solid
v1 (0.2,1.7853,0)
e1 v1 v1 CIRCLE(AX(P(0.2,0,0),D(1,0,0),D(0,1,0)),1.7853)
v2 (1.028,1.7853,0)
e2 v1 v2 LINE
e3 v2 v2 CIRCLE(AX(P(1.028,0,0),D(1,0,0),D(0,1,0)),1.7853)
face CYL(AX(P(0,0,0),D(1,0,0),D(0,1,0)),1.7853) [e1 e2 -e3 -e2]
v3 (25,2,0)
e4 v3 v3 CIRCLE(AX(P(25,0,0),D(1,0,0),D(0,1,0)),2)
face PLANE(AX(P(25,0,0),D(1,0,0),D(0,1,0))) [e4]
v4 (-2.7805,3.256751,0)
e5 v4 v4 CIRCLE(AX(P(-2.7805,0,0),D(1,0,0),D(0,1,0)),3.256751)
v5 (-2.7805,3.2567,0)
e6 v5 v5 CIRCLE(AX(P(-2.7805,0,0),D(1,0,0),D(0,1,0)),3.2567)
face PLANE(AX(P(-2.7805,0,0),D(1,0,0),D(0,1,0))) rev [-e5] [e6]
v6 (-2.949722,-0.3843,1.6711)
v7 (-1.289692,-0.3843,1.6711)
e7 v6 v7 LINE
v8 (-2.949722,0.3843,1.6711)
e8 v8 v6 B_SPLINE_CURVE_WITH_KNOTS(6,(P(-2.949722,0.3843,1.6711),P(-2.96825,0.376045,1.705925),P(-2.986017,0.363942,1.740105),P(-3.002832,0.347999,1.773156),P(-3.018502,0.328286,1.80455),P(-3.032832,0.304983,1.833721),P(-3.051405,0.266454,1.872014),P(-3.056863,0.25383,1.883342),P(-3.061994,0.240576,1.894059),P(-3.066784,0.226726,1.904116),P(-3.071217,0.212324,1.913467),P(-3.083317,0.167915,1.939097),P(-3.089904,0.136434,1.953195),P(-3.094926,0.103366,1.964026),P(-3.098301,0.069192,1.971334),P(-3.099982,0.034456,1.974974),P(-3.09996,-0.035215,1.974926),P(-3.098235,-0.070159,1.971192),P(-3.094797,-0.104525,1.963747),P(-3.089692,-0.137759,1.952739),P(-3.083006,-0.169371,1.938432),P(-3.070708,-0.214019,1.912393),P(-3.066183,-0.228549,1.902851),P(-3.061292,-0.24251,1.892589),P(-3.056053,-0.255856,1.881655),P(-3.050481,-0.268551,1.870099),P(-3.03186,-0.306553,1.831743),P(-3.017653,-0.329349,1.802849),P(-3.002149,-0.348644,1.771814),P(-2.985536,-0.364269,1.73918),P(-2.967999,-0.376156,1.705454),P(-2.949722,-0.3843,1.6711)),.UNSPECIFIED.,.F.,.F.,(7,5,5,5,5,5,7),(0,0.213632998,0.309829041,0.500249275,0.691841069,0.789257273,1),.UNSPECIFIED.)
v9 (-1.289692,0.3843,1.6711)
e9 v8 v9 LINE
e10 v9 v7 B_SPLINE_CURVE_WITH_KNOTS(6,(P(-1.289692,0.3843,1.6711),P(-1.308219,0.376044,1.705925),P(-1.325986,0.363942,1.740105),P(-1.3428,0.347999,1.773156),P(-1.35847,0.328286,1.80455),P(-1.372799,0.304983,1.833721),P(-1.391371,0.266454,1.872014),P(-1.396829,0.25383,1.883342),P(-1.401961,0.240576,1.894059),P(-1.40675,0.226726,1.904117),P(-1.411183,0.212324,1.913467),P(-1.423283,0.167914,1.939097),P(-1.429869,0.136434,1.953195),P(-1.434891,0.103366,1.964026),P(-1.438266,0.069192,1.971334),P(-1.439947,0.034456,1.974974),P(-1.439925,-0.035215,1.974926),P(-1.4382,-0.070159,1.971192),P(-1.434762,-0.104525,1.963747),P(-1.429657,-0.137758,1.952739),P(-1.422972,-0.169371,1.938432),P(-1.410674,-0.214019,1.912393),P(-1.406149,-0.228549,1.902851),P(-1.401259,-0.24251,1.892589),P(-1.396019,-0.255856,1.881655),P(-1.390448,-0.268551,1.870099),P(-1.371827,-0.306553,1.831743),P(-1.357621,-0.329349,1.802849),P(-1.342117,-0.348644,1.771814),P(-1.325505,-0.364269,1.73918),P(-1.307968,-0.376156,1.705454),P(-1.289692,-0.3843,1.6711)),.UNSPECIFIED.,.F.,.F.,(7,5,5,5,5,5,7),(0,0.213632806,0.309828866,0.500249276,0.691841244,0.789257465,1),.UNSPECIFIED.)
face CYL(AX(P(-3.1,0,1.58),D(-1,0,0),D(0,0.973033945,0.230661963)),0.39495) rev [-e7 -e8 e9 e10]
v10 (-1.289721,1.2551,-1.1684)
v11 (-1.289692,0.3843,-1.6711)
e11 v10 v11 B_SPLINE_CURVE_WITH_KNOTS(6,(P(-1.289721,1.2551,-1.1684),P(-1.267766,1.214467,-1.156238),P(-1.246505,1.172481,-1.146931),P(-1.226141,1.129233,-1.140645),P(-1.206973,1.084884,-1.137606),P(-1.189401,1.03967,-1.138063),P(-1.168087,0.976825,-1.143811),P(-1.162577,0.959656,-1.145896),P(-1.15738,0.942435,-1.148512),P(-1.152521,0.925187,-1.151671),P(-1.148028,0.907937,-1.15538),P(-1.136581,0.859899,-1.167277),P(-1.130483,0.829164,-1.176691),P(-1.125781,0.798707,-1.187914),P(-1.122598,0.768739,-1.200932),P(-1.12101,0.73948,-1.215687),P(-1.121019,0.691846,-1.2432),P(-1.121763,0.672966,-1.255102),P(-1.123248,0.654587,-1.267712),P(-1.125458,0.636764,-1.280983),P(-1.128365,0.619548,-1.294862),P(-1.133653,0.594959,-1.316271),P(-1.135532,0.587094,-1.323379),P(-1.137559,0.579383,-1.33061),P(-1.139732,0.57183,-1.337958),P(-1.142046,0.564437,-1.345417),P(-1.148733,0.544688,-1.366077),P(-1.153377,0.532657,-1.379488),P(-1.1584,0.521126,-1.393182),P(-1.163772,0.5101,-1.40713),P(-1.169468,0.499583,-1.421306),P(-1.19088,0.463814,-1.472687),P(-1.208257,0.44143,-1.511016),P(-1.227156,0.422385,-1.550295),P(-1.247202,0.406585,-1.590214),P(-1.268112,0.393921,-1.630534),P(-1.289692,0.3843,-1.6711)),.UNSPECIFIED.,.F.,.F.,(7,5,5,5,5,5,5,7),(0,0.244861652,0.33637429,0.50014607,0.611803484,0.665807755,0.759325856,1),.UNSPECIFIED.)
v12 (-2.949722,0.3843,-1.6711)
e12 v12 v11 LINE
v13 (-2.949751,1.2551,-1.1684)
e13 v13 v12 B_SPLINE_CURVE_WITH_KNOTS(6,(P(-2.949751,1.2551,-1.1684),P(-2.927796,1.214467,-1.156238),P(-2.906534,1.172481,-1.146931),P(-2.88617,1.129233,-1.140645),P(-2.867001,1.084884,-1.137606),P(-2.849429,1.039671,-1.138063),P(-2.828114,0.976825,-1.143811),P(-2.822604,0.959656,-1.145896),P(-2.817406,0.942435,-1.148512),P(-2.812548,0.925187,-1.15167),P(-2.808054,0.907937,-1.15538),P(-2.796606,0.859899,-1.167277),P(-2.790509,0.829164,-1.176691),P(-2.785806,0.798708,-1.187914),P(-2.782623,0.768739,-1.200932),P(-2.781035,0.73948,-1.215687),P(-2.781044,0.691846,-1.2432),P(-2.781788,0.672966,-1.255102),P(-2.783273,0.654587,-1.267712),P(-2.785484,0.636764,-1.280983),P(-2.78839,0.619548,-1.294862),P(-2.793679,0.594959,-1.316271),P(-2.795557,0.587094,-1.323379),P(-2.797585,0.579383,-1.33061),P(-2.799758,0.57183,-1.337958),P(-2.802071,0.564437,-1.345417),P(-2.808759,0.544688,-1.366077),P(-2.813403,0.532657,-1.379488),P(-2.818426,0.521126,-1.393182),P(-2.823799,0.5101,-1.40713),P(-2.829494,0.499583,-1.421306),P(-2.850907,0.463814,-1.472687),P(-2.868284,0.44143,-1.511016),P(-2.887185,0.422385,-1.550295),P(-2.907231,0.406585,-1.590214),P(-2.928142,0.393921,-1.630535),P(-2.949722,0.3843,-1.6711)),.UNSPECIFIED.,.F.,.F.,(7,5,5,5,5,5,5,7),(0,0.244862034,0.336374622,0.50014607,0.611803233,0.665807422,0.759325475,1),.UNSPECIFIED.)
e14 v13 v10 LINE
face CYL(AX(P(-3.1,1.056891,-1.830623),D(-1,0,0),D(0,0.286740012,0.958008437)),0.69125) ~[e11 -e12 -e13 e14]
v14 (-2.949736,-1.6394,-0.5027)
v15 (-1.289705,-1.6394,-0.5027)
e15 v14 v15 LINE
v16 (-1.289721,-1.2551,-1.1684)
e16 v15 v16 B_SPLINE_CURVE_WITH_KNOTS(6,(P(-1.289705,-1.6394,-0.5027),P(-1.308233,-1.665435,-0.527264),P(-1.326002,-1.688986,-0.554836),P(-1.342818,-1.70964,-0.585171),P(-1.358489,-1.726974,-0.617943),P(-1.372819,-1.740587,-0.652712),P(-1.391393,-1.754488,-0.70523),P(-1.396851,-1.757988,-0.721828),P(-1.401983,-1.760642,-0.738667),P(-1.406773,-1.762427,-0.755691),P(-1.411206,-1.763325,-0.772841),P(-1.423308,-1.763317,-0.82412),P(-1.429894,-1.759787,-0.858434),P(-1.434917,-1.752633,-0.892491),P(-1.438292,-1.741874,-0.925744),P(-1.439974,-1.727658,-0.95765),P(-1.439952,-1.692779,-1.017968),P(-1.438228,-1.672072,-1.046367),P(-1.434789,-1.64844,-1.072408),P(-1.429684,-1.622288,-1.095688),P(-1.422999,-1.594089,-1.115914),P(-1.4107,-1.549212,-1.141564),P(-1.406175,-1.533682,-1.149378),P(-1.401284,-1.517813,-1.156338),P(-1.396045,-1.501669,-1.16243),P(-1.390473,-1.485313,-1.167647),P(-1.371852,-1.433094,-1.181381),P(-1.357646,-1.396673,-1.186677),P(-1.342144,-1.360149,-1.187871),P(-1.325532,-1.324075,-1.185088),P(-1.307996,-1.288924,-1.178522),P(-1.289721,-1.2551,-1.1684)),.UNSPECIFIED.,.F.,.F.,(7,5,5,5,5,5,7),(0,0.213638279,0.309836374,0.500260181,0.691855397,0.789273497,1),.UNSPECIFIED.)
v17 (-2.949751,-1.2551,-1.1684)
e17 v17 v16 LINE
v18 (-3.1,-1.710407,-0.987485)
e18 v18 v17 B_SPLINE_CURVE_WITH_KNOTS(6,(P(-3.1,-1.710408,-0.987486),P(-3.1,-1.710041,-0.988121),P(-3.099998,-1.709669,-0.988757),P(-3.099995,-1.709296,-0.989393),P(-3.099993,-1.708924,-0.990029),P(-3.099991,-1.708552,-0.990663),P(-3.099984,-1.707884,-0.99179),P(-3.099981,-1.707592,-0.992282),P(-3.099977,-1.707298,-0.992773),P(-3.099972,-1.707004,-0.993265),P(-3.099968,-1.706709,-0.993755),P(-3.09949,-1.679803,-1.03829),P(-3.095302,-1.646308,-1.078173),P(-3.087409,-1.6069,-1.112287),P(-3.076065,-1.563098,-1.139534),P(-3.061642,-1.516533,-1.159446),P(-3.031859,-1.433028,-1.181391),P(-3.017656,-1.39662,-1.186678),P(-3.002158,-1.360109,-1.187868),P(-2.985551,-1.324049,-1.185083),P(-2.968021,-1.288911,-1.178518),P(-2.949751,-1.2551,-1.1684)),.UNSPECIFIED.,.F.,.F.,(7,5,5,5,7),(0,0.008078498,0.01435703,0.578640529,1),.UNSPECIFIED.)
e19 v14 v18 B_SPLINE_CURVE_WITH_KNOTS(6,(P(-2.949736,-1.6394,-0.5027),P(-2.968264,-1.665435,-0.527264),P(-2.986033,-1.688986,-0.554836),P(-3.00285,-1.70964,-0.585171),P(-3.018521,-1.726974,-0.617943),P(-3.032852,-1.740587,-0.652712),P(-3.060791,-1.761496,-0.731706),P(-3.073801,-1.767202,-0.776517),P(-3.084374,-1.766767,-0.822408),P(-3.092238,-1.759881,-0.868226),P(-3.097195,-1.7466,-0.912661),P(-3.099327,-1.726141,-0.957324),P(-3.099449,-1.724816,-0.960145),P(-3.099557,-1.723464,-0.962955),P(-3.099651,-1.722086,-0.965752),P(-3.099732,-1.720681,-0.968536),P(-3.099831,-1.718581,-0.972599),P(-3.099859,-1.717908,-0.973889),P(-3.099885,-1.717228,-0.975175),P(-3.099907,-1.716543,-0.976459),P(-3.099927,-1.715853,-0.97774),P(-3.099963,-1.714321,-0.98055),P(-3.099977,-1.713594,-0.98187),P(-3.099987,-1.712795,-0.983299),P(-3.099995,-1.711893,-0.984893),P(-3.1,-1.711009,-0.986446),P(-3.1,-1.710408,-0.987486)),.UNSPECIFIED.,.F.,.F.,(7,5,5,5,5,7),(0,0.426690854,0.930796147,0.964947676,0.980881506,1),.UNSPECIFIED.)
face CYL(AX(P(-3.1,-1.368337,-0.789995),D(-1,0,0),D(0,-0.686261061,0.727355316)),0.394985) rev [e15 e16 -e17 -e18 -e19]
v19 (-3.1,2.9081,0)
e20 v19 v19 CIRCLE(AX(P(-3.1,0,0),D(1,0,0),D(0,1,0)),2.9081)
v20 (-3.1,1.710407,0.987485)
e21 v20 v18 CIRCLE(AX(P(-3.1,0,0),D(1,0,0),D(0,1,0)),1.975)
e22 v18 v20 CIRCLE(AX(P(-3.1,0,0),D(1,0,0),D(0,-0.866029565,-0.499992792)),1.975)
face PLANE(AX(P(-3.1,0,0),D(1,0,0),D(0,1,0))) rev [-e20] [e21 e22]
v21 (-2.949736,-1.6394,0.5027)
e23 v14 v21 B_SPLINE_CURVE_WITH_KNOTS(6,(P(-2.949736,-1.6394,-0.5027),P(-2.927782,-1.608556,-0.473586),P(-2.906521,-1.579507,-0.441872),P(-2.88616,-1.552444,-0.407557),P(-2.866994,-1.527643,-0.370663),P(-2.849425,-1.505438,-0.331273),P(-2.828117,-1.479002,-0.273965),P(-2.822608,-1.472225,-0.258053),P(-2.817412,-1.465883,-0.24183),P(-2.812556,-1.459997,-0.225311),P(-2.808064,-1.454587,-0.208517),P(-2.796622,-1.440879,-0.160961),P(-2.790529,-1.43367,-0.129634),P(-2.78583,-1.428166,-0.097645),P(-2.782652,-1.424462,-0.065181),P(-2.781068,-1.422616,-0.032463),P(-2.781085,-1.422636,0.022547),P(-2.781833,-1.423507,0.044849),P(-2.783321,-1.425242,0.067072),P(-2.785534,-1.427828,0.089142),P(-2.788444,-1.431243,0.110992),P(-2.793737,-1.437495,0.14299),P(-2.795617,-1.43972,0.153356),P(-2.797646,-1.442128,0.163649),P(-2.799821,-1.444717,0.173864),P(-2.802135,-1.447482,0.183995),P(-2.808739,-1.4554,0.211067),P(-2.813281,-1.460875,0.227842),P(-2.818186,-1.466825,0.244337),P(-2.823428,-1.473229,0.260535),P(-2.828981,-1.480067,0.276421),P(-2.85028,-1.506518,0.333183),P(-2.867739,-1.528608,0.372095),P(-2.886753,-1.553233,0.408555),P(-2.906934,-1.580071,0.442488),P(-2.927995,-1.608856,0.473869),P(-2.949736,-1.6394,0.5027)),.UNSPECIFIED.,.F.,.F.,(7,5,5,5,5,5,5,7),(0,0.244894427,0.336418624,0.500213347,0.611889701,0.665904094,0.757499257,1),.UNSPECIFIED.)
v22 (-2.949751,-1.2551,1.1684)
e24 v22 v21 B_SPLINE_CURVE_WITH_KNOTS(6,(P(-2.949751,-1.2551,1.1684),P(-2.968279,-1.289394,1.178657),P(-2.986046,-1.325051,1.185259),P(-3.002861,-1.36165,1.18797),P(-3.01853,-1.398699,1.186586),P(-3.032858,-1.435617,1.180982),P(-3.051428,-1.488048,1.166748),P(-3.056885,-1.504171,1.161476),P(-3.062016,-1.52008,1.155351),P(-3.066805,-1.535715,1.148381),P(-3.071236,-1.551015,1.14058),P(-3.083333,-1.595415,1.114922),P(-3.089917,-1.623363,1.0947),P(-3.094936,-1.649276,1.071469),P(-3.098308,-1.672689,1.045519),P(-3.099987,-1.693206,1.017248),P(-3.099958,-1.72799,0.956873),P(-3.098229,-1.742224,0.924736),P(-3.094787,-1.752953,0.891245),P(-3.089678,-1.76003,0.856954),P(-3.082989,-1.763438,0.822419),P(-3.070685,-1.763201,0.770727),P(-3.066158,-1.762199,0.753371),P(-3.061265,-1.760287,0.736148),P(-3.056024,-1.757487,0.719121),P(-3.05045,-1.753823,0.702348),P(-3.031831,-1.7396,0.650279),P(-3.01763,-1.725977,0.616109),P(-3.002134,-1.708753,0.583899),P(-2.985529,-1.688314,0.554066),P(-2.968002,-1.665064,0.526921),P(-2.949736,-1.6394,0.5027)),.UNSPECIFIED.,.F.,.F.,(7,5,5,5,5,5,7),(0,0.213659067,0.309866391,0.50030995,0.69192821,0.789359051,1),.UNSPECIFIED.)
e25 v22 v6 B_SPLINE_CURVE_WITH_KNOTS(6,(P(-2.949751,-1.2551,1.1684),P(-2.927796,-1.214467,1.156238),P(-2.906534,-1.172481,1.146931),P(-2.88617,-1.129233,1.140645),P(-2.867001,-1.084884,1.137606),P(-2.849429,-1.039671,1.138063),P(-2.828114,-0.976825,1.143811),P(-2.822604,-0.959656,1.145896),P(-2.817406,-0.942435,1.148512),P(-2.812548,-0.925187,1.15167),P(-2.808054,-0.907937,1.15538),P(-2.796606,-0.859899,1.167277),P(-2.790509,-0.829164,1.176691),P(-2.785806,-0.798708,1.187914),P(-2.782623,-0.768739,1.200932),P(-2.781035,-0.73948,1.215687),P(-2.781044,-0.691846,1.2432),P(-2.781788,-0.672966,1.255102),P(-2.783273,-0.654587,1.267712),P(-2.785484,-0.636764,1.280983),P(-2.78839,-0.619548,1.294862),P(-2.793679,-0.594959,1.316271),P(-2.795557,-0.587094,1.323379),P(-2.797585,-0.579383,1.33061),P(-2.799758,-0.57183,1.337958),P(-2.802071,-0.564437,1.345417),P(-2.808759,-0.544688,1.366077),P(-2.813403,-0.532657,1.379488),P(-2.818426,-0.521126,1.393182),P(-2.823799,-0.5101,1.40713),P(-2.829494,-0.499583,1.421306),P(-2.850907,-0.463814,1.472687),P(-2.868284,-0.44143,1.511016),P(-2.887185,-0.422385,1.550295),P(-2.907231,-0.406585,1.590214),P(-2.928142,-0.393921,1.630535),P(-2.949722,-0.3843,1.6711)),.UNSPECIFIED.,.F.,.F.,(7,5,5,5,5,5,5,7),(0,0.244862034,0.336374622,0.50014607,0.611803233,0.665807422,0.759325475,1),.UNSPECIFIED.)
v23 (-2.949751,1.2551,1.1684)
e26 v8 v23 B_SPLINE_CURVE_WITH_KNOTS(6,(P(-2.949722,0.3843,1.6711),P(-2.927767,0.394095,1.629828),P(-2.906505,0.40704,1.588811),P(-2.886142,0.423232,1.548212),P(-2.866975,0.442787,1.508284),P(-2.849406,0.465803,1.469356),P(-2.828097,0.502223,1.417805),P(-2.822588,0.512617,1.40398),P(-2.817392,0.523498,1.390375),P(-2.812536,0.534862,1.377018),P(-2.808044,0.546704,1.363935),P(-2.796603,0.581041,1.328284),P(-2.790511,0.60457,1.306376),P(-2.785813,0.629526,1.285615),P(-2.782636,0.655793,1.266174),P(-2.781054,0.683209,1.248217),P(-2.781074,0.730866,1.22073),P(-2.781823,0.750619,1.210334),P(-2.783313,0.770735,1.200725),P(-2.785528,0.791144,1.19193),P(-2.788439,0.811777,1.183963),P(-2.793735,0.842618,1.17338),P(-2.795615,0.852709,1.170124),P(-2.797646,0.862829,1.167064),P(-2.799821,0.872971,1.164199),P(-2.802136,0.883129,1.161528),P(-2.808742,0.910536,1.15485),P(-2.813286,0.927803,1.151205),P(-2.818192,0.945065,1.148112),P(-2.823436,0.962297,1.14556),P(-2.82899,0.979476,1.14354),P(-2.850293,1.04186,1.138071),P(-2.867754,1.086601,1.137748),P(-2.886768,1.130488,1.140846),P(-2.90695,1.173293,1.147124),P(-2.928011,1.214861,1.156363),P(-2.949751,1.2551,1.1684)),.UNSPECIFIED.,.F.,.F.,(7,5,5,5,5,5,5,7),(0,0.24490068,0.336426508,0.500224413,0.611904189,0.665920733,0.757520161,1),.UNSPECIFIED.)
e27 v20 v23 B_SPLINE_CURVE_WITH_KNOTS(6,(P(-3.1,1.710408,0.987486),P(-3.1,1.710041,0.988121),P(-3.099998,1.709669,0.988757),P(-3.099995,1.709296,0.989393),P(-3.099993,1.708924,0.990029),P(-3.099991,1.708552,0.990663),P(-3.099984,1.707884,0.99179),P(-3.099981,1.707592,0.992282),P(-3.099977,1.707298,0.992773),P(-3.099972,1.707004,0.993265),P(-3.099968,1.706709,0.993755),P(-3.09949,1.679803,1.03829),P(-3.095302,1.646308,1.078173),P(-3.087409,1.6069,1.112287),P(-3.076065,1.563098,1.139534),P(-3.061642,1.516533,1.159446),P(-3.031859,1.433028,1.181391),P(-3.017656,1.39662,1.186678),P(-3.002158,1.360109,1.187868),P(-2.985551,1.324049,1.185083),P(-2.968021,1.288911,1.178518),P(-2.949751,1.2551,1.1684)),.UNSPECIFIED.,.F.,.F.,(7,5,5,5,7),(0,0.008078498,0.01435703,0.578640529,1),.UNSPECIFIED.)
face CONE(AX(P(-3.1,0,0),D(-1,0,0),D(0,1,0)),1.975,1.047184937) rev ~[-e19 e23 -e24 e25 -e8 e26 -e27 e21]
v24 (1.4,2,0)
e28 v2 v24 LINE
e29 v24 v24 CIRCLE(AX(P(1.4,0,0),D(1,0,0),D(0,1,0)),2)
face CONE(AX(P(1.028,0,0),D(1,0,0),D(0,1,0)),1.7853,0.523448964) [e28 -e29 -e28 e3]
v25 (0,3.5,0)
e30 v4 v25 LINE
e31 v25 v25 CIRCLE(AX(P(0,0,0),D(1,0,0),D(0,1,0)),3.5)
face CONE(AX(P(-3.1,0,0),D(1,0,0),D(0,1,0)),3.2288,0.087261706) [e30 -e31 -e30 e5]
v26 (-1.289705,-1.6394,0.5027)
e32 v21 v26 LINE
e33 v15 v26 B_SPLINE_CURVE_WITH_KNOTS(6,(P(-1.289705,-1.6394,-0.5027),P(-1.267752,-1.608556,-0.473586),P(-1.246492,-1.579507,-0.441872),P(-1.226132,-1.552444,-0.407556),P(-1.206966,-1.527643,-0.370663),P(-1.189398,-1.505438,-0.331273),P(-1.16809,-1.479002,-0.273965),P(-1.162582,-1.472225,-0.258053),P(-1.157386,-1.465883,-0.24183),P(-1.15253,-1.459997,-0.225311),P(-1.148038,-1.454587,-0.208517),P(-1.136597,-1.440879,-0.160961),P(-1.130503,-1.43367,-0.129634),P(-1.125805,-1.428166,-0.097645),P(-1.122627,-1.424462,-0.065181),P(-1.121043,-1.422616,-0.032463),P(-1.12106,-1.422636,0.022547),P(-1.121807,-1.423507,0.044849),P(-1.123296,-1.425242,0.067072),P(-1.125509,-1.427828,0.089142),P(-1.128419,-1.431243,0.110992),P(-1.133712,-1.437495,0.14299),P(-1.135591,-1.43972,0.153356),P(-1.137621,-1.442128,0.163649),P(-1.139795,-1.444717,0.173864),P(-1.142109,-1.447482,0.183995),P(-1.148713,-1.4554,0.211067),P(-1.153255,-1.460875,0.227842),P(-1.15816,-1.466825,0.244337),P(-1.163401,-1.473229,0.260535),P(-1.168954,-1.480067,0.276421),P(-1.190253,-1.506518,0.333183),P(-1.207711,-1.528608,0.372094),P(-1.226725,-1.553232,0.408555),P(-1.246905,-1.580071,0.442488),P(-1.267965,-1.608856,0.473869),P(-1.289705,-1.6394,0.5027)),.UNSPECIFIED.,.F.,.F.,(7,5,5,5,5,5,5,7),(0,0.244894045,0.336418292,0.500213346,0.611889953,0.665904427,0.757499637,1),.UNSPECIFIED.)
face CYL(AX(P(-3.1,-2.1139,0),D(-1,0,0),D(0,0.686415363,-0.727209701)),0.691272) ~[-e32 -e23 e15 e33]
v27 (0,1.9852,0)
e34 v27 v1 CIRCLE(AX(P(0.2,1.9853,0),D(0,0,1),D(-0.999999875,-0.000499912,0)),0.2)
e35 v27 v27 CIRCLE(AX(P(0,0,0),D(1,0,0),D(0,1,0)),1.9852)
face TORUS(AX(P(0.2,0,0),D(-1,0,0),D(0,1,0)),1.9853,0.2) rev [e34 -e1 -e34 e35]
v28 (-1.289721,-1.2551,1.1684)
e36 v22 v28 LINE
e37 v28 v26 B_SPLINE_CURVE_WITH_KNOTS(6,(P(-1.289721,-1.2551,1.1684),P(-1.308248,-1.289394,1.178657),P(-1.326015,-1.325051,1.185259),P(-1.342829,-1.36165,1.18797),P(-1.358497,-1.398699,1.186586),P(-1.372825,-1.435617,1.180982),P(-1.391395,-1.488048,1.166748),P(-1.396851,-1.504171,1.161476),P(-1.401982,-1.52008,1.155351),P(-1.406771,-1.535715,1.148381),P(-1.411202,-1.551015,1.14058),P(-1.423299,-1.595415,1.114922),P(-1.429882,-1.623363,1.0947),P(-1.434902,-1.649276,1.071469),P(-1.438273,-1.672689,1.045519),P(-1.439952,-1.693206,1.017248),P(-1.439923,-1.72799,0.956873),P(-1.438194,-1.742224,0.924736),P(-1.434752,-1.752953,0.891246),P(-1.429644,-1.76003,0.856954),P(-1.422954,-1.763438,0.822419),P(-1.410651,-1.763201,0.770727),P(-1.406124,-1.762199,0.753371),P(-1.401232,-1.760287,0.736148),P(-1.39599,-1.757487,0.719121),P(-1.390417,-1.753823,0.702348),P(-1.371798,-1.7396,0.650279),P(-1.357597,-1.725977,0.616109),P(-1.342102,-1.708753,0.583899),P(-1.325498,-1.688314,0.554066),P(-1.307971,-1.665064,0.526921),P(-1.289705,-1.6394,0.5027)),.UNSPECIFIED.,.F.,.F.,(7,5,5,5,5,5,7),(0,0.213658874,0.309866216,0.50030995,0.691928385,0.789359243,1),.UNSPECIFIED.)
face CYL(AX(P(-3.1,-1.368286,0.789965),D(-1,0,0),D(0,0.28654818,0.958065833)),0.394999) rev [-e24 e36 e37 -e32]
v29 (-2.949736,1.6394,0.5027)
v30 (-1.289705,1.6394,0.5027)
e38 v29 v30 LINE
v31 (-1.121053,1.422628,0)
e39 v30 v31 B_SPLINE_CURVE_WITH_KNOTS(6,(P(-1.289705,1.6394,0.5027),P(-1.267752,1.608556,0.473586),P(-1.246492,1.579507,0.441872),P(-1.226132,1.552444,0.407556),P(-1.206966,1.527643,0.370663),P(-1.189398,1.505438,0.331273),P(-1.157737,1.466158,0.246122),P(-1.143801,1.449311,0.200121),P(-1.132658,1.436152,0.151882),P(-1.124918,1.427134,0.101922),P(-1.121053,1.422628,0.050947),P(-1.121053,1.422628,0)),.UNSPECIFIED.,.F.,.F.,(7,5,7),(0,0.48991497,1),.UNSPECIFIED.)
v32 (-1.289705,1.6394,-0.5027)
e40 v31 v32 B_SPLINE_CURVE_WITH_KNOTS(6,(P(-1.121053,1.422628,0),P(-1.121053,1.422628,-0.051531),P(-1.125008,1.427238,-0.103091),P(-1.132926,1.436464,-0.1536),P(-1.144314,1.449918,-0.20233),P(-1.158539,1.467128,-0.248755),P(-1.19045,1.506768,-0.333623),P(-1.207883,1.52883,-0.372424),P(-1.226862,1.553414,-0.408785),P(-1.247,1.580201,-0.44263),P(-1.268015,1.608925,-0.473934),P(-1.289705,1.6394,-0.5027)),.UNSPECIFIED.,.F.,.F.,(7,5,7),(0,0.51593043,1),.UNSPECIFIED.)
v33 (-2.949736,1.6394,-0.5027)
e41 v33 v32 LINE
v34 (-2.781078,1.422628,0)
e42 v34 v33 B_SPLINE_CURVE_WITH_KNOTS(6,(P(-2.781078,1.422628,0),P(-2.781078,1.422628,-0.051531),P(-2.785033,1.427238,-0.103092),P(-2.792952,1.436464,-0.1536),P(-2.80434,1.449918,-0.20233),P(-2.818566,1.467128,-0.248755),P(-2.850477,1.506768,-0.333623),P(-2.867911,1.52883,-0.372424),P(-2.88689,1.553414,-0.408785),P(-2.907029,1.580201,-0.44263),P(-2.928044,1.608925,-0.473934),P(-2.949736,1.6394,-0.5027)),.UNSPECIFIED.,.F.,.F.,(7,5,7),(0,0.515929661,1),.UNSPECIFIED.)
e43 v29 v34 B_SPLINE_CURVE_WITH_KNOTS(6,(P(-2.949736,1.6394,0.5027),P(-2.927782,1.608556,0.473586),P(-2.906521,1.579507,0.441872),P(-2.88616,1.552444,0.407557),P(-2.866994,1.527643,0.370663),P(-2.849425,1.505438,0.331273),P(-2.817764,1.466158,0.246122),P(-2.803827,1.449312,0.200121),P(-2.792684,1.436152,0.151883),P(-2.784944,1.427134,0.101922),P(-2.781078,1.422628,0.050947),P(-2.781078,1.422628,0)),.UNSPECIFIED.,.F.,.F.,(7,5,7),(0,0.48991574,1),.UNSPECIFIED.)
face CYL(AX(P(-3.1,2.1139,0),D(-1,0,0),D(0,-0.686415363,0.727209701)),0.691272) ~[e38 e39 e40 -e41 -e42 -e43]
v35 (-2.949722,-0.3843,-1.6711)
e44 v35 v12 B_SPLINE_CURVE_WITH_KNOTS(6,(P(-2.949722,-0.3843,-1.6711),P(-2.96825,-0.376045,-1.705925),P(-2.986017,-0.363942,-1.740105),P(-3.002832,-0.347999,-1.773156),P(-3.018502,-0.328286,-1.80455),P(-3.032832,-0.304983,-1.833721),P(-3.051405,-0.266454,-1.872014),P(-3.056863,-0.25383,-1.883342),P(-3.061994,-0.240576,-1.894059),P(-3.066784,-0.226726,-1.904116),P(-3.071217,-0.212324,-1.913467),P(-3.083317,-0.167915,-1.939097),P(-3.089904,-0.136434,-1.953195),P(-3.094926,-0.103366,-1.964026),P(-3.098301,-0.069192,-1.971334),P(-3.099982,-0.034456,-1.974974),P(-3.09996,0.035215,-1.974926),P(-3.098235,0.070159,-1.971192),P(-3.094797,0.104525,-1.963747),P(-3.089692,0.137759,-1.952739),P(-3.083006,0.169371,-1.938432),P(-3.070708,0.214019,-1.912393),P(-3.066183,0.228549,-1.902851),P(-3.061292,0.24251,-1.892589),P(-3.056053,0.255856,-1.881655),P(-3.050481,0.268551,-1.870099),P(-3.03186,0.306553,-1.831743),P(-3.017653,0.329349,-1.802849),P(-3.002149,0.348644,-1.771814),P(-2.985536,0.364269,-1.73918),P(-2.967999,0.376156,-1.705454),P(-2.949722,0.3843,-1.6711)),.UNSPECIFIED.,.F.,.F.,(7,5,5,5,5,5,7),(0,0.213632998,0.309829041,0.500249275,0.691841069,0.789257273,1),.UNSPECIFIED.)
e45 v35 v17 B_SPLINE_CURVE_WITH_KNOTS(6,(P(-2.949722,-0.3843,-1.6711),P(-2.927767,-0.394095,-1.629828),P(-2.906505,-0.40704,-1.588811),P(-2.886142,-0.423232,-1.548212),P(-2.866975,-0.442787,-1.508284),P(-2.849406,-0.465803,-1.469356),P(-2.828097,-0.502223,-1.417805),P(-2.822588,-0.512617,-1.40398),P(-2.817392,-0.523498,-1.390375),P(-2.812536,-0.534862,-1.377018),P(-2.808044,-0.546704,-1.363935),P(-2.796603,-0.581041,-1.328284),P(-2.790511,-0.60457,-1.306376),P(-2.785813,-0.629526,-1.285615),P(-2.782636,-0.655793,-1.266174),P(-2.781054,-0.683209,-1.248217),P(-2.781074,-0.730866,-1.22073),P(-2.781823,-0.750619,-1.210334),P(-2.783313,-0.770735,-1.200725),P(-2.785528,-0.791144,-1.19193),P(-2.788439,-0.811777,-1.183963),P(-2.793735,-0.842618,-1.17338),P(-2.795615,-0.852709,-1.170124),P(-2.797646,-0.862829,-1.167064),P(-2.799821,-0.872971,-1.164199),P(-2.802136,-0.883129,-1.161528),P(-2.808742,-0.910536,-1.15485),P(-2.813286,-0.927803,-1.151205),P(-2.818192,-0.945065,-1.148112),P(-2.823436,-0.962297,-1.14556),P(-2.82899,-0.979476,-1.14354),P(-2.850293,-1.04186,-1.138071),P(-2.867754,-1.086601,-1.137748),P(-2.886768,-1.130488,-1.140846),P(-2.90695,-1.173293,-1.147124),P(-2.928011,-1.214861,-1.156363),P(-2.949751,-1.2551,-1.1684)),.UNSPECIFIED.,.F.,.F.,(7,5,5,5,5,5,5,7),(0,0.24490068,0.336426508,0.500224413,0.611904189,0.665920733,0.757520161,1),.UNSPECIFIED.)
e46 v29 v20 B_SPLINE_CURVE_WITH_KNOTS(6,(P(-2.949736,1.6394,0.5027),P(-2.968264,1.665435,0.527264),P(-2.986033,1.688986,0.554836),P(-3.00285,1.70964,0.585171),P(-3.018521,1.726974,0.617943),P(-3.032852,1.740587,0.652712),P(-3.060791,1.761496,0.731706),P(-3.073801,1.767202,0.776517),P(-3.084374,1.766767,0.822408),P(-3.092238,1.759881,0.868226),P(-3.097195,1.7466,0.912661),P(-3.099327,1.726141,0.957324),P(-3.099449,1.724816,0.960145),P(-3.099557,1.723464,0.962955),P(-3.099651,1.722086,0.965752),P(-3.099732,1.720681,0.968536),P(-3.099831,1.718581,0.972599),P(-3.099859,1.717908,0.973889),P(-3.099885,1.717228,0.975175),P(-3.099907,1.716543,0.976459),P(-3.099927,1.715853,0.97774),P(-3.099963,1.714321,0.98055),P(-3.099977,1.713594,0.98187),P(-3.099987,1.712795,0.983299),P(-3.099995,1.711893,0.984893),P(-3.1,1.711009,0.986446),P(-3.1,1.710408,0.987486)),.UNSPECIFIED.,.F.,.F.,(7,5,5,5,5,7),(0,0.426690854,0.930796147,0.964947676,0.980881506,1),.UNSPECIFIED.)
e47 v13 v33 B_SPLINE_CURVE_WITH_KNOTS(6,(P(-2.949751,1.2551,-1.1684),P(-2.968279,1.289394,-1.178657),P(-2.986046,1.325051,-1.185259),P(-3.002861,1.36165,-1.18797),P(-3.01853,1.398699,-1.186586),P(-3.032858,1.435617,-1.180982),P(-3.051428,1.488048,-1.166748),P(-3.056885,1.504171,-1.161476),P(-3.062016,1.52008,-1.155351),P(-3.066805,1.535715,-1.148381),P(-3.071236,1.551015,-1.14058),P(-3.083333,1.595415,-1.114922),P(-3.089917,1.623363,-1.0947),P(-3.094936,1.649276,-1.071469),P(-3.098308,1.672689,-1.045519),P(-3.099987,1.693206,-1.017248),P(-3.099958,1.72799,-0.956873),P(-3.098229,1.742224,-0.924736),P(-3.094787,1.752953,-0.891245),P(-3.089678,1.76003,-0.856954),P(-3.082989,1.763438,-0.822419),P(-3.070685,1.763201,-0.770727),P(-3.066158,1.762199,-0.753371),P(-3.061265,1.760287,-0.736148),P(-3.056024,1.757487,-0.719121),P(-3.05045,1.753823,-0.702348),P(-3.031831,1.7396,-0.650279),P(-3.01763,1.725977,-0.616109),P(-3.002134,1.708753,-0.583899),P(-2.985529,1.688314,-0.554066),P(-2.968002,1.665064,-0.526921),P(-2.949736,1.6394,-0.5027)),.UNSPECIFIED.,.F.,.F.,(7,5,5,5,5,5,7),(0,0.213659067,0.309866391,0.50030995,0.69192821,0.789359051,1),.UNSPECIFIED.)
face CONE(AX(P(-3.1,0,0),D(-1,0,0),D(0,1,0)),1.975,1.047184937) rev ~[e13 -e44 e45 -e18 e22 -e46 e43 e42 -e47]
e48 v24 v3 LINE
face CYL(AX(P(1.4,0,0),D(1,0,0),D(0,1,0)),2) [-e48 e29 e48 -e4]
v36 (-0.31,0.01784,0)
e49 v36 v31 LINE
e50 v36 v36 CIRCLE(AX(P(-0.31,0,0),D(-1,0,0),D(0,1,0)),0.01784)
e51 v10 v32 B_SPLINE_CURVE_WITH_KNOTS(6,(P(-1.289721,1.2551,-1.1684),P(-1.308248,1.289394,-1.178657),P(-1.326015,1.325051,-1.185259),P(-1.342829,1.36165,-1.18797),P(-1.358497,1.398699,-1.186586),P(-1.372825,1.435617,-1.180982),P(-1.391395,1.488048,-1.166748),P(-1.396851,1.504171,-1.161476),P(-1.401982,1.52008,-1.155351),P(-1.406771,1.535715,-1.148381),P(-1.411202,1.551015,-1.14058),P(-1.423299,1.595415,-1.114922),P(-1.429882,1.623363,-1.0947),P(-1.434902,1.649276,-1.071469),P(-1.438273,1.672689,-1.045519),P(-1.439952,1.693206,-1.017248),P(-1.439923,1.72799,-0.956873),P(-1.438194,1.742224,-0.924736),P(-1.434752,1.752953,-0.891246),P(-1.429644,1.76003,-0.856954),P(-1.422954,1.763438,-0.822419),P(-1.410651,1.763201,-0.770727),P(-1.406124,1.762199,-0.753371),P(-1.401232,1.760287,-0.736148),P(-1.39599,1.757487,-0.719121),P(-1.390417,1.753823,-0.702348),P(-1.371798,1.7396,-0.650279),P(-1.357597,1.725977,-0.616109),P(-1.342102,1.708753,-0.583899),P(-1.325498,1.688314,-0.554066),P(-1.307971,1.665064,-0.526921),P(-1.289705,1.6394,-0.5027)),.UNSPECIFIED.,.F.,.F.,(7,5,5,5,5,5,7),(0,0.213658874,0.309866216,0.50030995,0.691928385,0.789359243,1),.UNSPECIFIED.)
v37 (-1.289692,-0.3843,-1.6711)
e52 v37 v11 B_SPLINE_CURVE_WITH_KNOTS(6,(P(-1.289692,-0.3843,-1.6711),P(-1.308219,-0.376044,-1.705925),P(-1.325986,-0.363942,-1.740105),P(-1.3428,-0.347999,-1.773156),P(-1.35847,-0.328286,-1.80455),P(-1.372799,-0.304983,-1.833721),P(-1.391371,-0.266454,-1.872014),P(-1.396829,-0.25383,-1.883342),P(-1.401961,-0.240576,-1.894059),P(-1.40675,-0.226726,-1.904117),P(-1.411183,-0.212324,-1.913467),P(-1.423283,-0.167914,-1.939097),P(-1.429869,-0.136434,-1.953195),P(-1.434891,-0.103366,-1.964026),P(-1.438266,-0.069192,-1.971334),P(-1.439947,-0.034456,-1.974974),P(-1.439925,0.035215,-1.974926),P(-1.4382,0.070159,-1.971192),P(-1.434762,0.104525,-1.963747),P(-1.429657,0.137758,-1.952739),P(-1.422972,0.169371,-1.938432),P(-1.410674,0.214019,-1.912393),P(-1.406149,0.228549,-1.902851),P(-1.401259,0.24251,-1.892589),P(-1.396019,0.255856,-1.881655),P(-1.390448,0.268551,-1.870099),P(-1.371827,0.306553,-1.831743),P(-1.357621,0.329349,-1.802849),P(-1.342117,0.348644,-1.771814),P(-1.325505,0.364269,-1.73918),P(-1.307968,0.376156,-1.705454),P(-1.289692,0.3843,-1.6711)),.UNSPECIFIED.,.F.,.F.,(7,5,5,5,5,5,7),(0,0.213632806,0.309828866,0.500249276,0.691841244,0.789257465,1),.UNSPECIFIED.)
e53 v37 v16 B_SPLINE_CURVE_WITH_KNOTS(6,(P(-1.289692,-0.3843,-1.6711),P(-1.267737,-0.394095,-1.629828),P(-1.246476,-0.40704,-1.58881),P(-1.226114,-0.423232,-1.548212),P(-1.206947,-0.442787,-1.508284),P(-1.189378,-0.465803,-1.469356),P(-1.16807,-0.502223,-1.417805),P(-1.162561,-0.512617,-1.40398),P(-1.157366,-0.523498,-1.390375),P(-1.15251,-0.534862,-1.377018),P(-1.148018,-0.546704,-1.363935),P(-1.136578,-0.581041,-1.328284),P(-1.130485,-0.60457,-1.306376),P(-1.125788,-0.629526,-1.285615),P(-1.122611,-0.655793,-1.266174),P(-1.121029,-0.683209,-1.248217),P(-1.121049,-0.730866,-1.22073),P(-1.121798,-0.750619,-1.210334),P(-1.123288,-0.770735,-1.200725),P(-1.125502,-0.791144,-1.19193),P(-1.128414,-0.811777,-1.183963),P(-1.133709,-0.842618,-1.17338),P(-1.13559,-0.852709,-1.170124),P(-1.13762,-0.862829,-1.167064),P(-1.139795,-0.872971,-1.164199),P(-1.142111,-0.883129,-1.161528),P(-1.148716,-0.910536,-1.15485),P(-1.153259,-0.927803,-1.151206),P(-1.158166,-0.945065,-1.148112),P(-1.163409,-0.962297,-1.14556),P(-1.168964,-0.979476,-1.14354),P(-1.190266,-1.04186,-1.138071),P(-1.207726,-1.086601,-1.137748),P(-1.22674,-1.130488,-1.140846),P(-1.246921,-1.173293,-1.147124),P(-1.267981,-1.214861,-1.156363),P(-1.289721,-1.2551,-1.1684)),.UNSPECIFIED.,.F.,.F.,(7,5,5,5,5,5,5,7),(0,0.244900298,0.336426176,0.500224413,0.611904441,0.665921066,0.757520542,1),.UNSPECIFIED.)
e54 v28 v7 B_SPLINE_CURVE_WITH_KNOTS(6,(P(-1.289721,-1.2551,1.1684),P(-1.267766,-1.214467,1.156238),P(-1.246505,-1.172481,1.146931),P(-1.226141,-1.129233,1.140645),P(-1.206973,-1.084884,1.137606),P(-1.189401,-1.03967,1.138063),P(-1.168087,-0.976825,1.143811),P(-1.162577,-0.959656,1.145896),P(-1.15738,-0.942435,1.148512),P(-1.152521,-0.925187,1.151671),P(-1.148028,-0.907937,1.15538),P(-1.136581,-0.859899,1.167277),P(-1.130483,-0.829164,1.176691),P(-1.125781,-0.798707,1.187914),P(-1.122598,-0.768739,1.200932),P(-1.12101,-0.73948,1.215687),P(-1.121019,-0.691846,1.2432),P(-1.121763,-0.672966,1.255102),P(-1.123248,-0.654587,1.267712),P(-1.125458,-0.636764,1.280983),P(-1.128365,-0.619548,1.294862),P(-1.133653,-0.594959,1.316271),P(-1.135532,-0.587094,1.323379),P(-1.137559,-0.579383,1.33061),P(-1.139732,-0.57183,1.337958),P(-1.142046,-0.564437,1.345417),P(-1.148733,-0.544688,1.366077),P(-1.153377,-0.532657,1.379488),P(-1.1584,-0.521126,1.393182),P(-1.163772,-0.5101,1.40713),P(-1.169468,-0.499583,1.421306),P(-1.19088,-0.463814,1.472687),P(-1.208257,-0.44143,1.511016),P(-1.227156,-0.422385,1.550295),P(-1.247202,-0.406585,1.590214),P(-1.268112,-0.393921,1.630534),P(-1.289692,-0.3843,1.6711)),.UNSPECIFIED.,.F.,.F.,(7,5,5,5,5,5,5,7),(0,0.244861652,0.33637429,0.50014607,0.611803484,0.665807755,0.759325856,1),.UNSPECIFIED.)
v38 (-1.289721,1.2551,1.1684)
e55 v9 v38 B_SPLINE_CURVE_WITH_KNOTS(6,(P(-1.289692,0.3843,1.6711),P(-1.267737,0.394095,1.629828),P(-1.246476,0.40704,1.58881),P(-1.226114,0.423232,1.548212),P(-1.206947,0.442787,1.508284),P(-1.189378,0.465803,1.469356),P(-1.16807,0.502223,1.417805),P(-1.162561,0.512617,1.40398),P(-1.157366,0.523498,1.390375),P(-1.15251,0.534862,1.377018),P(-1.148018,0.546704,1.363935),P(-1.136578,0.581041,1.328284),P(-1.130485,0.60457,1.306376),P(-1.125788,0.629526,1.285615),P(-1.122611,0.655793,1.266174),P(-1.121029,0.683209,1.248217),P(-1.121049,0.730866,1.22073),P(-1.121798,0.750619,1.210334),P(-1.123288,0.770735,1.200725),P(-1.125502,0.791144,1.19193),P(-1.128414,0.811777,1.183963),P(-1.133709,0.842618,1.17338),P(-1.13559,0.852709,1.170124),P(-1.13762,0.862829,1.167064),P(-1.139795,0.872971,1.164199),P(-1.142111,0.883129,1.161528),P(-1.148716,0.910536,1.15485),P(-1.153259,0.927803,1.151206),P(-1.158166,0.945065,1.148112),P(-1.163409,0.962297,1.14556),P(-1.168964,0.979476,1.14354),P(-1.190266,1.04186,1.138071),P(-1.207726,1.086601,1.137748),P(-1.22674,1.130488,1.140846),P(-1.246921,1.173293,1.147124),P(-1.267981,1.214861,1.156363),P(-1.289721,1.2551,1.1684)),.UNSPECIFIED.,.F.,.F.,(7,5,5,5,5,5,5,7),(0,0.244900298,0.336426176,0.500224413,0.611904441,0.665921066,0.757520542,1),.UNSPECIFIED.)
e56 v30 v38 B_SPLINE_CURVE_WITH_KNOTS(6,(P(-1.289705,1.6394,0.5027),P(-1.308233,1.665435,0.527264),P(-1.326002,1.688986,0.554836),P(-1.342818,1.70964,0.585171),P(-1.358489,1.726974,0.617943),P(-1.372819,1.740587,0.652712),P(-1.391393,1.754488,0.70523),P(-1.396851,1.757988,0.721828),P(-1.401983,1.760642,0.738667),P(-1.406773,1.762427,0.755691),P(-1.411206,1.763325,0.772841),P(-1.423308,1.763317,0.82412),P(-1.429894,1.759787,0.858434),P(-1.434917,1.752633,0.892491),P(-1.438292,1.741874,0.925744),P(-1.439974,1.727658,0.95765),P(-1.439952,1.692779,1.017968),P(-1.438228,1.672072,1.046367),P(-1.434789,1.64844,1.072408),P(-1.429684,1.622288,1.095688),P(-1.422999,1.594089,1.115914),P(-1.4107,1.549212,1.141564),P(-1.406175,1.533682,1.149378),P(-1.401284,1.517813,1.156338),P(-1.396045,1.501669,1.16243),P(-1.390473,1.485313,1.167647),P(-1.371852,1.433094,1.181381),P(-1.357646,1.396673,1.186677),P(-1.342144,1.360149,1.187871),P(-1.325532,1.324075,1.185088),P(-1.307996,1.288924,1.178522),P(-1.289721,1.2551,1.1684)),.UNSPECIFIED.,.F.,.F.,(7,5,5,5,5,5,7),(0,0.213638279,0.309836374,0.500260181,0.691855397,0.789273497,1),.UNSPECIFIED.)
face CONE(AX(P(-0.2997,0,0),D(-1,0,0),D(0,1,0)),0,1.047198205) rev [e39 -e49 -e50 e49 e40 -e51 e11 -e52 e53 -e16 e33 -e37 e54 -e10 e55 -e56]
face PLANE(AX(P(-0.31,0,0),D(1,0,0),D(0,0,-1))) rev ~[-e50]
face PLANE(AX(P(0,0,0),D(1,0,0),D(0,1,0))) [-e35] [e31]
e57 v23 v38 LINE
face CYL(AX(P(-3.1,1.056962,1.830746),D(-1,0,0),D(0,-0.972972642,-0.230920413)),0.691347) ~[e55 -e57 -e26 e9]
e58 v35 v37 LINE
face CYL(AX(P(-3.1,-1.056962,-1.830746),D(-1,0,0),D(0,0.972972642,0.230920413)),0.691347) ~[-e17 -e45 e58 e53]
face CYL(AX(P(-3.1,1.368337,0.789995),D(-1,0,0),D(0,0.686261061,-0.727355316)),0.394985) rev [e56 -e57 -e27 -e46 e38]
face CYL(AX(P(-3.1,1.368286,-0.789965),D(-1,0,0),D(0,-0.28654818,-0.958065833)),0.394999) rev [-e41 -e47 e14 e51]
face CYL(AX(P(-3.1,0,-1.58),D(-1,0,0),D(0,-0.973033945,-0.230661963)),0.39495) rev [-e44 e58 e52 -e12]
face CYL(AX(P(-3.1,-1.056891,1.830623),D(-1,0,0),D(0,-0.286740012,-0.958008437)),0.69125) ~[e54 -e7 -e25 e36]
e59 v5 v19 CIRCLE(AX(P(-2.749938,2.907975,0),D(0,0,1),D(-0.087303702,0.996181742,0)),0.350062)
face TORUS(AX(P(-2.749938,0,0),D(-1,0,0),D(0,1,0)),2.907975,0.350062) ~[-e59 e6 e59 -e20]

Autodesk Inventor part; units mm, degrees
sketch "Skizze_2" plane through (-3.1, 0, 0) normal (1, 0, 0) x (0, 0, -1)
  arc A0 (-1.6711, 0.3843) -> (-1.6711, -0.3843) centre (-1.58, 0) ccw
  arc A1 (-1.1684, -1.2551) -> (-1.6711, -0.3843) centre (-1.8307, -1.0569) ccw
  arc A2 (-1.1684, -1.2551) -> (-0.5027, -1.6394) centre (-0.79, -1.3683) ccw
  arc A3 (0.5027, -1.6394) -> (-0.5027, -1.6394) centre (0, -2.1139) ccw
  arc A4 (0.5027, -1.6394) -> (1.1684, -1.2551) centre (0.79, -1.3683) ccw
  arc A5 (1.6711, -0.3843) -> (1.1684, -1.2551) centre (1.8307, -1.0569) ccw
  arc A6 (1.6711, -0.3843) -> (1.6711, 0.3843) centre (1.58, 0) ccw
  arc A7 (1.1684, 1.2551) -> (1.6711, 0.3843) centre (1.8307, 1.0569) ccw
  arc A8 (1.1684, 1.2551) -> (0.5027, 1.6394) centre (0.79, 1.3683) ccw
  arc A9 (-0.5027, 1.6394) -> (0.5027, 1.6394) centre (0, 2.1139) ccw
  arc A10 (-0.5027, 1.6394) -> (-1.1684, 1.2551) centre (-0.79, 1.3683) ccw
  arc A11 (-1.6711, 0.3843) -> (-1.1684, 1.2551) centre (-1.8307, 1.0569) ccw
sketch "Skizze_3" plane through (0, 0, 0) normal (0, 0, 1) x (1, 0, 0)
  line L0 (-0.1, 0) -> (-0.2997, 0)
  line L1 (-0.2997, 0) -> (-1.4977, 2.075)
  line L2 (-1.4977, 2.075) -> (-0.1, 2.075)
  line L3 (-0.1, 2.075) -> (-0.1, 0)
  line L4 (-0.1, 0) -> (-0.2997, 0)
sketch "Skizze_5" plane through (0, 0, 0) normal (0, 0, 1) x (1, 0, 0)
  line L0 (25, 0) -> (-3.1, 0)
  line L1 (-3.1, 0) -> (-3.1, 3.2288)
  line L2 (-3.1, 3.2288) -> (0, 3.5)
  line L3 (0, 3.5) -> (0, 1.7853)
  line L4 (0, 1.7853) -> (1.028, 1.7853)
  line L5 (1.028, 1.7853) -> (1.4, 2)
  line L6 (1.4, 2) -> (25, 2)
  line L7 (25, 2) -> (25, 0)
  line L8 (25, 0) -> (-3.1, 0)
revolve "Revolution1" add sketch "Skizze_5" angle 360 about axis through (25, 0, 0) along (1, 0, 0)
thread "Thread1" size "M4x0.7" class "6g" standard "ISO Metric profile" full length
sketch "Sketch_1" plane through (0, 0, 0) normal (0, 0, 1) x (1, 0, 0)
  line L0 (0.2, 0) -> (-0.1, 0)
  line L1 (-0.1, 1.6853) -> (0.2, 1.6853)
  line L2 (0.2, 1.6853) -> (0.2, 1.7853)
  arc A0 (0, 1.9852) -> (0.2, 1.7853) centre (0.2, 1.9853) ccw
  line L3 (0, 1.9852) -> (-0.1, 1.9852)
  line L4 (-0.1, 1.9852) -> (-0.1, 1.6853)
revolve "Revolution2" add sketch "Sketch_1" angle 360 about axis through (0.2, 0, 0) along (1, 0, 0)
sketch "Sketch_2" plane through (0, 0, 0) normal (0, 0, 1) x (1, 0, 0)
  line L0 (-1.9597, 0) -> (-3.1, 0)
  line L1 (-3.1, 0) -> (-3.1, 1.975)
  line L2 (-3.1, 1.975) -> (-1.9597, 0)
  line L3 (-1.9597, 0) -> (-3.1, 0)
revolve "Revolution3" cut sketch "Sketch_2" angle 360 about axis through (-1.9597, 0, 0) along (1, 0, 0)
sketch "Sketch_3" plane through (0, 0, 0) normal (0, 0, 1) x (1, 0, 0)
  line L0 (50, 0) -> (-3.1, 0)
  line L1 (-3.6, 8.4) -> (-3.6, 2.9081)
  line L2 (-3.6, 2.9081) -> (-3.1, 2.9081)
  arc A0 (-2.7805, 3.2567) -> (-3.1, 2.9081) centre (-2.75, 2.9081) ccw
  line L3 (-2.7805, 3.2567) -> (-2.7805, 8.4)
  line L4 (-2.7805, 8.4) -> (-3.6, 8.4)
revolve "Revolution4" cut sketch "Sketch_3" angle 360 about axis through (50, 0, 0) along (1, 0, 0)
extrude "Extrusion1" cut sketch "Skizze_2" along normal blind 2.79
revolve "Revolution5" add sketch "Skizze_3" angle 360 about axis through (-0.1, 0, 0) along (1, 0, 0)
ref_plane "IP1_XY" through (0, 0, 0) normal (1, 0, 0) x (0, 0, -1)
ref_plane "IP1_YZ" through (0, 0, 0) normal (0, 0, -1) x (0, 1, 0)
ref_plane "IP1_ZX" through (0, 0, 0) normal (0, 1, 0) x (1, 0, 0)
properties part number "ISO 14580 M4x25"
